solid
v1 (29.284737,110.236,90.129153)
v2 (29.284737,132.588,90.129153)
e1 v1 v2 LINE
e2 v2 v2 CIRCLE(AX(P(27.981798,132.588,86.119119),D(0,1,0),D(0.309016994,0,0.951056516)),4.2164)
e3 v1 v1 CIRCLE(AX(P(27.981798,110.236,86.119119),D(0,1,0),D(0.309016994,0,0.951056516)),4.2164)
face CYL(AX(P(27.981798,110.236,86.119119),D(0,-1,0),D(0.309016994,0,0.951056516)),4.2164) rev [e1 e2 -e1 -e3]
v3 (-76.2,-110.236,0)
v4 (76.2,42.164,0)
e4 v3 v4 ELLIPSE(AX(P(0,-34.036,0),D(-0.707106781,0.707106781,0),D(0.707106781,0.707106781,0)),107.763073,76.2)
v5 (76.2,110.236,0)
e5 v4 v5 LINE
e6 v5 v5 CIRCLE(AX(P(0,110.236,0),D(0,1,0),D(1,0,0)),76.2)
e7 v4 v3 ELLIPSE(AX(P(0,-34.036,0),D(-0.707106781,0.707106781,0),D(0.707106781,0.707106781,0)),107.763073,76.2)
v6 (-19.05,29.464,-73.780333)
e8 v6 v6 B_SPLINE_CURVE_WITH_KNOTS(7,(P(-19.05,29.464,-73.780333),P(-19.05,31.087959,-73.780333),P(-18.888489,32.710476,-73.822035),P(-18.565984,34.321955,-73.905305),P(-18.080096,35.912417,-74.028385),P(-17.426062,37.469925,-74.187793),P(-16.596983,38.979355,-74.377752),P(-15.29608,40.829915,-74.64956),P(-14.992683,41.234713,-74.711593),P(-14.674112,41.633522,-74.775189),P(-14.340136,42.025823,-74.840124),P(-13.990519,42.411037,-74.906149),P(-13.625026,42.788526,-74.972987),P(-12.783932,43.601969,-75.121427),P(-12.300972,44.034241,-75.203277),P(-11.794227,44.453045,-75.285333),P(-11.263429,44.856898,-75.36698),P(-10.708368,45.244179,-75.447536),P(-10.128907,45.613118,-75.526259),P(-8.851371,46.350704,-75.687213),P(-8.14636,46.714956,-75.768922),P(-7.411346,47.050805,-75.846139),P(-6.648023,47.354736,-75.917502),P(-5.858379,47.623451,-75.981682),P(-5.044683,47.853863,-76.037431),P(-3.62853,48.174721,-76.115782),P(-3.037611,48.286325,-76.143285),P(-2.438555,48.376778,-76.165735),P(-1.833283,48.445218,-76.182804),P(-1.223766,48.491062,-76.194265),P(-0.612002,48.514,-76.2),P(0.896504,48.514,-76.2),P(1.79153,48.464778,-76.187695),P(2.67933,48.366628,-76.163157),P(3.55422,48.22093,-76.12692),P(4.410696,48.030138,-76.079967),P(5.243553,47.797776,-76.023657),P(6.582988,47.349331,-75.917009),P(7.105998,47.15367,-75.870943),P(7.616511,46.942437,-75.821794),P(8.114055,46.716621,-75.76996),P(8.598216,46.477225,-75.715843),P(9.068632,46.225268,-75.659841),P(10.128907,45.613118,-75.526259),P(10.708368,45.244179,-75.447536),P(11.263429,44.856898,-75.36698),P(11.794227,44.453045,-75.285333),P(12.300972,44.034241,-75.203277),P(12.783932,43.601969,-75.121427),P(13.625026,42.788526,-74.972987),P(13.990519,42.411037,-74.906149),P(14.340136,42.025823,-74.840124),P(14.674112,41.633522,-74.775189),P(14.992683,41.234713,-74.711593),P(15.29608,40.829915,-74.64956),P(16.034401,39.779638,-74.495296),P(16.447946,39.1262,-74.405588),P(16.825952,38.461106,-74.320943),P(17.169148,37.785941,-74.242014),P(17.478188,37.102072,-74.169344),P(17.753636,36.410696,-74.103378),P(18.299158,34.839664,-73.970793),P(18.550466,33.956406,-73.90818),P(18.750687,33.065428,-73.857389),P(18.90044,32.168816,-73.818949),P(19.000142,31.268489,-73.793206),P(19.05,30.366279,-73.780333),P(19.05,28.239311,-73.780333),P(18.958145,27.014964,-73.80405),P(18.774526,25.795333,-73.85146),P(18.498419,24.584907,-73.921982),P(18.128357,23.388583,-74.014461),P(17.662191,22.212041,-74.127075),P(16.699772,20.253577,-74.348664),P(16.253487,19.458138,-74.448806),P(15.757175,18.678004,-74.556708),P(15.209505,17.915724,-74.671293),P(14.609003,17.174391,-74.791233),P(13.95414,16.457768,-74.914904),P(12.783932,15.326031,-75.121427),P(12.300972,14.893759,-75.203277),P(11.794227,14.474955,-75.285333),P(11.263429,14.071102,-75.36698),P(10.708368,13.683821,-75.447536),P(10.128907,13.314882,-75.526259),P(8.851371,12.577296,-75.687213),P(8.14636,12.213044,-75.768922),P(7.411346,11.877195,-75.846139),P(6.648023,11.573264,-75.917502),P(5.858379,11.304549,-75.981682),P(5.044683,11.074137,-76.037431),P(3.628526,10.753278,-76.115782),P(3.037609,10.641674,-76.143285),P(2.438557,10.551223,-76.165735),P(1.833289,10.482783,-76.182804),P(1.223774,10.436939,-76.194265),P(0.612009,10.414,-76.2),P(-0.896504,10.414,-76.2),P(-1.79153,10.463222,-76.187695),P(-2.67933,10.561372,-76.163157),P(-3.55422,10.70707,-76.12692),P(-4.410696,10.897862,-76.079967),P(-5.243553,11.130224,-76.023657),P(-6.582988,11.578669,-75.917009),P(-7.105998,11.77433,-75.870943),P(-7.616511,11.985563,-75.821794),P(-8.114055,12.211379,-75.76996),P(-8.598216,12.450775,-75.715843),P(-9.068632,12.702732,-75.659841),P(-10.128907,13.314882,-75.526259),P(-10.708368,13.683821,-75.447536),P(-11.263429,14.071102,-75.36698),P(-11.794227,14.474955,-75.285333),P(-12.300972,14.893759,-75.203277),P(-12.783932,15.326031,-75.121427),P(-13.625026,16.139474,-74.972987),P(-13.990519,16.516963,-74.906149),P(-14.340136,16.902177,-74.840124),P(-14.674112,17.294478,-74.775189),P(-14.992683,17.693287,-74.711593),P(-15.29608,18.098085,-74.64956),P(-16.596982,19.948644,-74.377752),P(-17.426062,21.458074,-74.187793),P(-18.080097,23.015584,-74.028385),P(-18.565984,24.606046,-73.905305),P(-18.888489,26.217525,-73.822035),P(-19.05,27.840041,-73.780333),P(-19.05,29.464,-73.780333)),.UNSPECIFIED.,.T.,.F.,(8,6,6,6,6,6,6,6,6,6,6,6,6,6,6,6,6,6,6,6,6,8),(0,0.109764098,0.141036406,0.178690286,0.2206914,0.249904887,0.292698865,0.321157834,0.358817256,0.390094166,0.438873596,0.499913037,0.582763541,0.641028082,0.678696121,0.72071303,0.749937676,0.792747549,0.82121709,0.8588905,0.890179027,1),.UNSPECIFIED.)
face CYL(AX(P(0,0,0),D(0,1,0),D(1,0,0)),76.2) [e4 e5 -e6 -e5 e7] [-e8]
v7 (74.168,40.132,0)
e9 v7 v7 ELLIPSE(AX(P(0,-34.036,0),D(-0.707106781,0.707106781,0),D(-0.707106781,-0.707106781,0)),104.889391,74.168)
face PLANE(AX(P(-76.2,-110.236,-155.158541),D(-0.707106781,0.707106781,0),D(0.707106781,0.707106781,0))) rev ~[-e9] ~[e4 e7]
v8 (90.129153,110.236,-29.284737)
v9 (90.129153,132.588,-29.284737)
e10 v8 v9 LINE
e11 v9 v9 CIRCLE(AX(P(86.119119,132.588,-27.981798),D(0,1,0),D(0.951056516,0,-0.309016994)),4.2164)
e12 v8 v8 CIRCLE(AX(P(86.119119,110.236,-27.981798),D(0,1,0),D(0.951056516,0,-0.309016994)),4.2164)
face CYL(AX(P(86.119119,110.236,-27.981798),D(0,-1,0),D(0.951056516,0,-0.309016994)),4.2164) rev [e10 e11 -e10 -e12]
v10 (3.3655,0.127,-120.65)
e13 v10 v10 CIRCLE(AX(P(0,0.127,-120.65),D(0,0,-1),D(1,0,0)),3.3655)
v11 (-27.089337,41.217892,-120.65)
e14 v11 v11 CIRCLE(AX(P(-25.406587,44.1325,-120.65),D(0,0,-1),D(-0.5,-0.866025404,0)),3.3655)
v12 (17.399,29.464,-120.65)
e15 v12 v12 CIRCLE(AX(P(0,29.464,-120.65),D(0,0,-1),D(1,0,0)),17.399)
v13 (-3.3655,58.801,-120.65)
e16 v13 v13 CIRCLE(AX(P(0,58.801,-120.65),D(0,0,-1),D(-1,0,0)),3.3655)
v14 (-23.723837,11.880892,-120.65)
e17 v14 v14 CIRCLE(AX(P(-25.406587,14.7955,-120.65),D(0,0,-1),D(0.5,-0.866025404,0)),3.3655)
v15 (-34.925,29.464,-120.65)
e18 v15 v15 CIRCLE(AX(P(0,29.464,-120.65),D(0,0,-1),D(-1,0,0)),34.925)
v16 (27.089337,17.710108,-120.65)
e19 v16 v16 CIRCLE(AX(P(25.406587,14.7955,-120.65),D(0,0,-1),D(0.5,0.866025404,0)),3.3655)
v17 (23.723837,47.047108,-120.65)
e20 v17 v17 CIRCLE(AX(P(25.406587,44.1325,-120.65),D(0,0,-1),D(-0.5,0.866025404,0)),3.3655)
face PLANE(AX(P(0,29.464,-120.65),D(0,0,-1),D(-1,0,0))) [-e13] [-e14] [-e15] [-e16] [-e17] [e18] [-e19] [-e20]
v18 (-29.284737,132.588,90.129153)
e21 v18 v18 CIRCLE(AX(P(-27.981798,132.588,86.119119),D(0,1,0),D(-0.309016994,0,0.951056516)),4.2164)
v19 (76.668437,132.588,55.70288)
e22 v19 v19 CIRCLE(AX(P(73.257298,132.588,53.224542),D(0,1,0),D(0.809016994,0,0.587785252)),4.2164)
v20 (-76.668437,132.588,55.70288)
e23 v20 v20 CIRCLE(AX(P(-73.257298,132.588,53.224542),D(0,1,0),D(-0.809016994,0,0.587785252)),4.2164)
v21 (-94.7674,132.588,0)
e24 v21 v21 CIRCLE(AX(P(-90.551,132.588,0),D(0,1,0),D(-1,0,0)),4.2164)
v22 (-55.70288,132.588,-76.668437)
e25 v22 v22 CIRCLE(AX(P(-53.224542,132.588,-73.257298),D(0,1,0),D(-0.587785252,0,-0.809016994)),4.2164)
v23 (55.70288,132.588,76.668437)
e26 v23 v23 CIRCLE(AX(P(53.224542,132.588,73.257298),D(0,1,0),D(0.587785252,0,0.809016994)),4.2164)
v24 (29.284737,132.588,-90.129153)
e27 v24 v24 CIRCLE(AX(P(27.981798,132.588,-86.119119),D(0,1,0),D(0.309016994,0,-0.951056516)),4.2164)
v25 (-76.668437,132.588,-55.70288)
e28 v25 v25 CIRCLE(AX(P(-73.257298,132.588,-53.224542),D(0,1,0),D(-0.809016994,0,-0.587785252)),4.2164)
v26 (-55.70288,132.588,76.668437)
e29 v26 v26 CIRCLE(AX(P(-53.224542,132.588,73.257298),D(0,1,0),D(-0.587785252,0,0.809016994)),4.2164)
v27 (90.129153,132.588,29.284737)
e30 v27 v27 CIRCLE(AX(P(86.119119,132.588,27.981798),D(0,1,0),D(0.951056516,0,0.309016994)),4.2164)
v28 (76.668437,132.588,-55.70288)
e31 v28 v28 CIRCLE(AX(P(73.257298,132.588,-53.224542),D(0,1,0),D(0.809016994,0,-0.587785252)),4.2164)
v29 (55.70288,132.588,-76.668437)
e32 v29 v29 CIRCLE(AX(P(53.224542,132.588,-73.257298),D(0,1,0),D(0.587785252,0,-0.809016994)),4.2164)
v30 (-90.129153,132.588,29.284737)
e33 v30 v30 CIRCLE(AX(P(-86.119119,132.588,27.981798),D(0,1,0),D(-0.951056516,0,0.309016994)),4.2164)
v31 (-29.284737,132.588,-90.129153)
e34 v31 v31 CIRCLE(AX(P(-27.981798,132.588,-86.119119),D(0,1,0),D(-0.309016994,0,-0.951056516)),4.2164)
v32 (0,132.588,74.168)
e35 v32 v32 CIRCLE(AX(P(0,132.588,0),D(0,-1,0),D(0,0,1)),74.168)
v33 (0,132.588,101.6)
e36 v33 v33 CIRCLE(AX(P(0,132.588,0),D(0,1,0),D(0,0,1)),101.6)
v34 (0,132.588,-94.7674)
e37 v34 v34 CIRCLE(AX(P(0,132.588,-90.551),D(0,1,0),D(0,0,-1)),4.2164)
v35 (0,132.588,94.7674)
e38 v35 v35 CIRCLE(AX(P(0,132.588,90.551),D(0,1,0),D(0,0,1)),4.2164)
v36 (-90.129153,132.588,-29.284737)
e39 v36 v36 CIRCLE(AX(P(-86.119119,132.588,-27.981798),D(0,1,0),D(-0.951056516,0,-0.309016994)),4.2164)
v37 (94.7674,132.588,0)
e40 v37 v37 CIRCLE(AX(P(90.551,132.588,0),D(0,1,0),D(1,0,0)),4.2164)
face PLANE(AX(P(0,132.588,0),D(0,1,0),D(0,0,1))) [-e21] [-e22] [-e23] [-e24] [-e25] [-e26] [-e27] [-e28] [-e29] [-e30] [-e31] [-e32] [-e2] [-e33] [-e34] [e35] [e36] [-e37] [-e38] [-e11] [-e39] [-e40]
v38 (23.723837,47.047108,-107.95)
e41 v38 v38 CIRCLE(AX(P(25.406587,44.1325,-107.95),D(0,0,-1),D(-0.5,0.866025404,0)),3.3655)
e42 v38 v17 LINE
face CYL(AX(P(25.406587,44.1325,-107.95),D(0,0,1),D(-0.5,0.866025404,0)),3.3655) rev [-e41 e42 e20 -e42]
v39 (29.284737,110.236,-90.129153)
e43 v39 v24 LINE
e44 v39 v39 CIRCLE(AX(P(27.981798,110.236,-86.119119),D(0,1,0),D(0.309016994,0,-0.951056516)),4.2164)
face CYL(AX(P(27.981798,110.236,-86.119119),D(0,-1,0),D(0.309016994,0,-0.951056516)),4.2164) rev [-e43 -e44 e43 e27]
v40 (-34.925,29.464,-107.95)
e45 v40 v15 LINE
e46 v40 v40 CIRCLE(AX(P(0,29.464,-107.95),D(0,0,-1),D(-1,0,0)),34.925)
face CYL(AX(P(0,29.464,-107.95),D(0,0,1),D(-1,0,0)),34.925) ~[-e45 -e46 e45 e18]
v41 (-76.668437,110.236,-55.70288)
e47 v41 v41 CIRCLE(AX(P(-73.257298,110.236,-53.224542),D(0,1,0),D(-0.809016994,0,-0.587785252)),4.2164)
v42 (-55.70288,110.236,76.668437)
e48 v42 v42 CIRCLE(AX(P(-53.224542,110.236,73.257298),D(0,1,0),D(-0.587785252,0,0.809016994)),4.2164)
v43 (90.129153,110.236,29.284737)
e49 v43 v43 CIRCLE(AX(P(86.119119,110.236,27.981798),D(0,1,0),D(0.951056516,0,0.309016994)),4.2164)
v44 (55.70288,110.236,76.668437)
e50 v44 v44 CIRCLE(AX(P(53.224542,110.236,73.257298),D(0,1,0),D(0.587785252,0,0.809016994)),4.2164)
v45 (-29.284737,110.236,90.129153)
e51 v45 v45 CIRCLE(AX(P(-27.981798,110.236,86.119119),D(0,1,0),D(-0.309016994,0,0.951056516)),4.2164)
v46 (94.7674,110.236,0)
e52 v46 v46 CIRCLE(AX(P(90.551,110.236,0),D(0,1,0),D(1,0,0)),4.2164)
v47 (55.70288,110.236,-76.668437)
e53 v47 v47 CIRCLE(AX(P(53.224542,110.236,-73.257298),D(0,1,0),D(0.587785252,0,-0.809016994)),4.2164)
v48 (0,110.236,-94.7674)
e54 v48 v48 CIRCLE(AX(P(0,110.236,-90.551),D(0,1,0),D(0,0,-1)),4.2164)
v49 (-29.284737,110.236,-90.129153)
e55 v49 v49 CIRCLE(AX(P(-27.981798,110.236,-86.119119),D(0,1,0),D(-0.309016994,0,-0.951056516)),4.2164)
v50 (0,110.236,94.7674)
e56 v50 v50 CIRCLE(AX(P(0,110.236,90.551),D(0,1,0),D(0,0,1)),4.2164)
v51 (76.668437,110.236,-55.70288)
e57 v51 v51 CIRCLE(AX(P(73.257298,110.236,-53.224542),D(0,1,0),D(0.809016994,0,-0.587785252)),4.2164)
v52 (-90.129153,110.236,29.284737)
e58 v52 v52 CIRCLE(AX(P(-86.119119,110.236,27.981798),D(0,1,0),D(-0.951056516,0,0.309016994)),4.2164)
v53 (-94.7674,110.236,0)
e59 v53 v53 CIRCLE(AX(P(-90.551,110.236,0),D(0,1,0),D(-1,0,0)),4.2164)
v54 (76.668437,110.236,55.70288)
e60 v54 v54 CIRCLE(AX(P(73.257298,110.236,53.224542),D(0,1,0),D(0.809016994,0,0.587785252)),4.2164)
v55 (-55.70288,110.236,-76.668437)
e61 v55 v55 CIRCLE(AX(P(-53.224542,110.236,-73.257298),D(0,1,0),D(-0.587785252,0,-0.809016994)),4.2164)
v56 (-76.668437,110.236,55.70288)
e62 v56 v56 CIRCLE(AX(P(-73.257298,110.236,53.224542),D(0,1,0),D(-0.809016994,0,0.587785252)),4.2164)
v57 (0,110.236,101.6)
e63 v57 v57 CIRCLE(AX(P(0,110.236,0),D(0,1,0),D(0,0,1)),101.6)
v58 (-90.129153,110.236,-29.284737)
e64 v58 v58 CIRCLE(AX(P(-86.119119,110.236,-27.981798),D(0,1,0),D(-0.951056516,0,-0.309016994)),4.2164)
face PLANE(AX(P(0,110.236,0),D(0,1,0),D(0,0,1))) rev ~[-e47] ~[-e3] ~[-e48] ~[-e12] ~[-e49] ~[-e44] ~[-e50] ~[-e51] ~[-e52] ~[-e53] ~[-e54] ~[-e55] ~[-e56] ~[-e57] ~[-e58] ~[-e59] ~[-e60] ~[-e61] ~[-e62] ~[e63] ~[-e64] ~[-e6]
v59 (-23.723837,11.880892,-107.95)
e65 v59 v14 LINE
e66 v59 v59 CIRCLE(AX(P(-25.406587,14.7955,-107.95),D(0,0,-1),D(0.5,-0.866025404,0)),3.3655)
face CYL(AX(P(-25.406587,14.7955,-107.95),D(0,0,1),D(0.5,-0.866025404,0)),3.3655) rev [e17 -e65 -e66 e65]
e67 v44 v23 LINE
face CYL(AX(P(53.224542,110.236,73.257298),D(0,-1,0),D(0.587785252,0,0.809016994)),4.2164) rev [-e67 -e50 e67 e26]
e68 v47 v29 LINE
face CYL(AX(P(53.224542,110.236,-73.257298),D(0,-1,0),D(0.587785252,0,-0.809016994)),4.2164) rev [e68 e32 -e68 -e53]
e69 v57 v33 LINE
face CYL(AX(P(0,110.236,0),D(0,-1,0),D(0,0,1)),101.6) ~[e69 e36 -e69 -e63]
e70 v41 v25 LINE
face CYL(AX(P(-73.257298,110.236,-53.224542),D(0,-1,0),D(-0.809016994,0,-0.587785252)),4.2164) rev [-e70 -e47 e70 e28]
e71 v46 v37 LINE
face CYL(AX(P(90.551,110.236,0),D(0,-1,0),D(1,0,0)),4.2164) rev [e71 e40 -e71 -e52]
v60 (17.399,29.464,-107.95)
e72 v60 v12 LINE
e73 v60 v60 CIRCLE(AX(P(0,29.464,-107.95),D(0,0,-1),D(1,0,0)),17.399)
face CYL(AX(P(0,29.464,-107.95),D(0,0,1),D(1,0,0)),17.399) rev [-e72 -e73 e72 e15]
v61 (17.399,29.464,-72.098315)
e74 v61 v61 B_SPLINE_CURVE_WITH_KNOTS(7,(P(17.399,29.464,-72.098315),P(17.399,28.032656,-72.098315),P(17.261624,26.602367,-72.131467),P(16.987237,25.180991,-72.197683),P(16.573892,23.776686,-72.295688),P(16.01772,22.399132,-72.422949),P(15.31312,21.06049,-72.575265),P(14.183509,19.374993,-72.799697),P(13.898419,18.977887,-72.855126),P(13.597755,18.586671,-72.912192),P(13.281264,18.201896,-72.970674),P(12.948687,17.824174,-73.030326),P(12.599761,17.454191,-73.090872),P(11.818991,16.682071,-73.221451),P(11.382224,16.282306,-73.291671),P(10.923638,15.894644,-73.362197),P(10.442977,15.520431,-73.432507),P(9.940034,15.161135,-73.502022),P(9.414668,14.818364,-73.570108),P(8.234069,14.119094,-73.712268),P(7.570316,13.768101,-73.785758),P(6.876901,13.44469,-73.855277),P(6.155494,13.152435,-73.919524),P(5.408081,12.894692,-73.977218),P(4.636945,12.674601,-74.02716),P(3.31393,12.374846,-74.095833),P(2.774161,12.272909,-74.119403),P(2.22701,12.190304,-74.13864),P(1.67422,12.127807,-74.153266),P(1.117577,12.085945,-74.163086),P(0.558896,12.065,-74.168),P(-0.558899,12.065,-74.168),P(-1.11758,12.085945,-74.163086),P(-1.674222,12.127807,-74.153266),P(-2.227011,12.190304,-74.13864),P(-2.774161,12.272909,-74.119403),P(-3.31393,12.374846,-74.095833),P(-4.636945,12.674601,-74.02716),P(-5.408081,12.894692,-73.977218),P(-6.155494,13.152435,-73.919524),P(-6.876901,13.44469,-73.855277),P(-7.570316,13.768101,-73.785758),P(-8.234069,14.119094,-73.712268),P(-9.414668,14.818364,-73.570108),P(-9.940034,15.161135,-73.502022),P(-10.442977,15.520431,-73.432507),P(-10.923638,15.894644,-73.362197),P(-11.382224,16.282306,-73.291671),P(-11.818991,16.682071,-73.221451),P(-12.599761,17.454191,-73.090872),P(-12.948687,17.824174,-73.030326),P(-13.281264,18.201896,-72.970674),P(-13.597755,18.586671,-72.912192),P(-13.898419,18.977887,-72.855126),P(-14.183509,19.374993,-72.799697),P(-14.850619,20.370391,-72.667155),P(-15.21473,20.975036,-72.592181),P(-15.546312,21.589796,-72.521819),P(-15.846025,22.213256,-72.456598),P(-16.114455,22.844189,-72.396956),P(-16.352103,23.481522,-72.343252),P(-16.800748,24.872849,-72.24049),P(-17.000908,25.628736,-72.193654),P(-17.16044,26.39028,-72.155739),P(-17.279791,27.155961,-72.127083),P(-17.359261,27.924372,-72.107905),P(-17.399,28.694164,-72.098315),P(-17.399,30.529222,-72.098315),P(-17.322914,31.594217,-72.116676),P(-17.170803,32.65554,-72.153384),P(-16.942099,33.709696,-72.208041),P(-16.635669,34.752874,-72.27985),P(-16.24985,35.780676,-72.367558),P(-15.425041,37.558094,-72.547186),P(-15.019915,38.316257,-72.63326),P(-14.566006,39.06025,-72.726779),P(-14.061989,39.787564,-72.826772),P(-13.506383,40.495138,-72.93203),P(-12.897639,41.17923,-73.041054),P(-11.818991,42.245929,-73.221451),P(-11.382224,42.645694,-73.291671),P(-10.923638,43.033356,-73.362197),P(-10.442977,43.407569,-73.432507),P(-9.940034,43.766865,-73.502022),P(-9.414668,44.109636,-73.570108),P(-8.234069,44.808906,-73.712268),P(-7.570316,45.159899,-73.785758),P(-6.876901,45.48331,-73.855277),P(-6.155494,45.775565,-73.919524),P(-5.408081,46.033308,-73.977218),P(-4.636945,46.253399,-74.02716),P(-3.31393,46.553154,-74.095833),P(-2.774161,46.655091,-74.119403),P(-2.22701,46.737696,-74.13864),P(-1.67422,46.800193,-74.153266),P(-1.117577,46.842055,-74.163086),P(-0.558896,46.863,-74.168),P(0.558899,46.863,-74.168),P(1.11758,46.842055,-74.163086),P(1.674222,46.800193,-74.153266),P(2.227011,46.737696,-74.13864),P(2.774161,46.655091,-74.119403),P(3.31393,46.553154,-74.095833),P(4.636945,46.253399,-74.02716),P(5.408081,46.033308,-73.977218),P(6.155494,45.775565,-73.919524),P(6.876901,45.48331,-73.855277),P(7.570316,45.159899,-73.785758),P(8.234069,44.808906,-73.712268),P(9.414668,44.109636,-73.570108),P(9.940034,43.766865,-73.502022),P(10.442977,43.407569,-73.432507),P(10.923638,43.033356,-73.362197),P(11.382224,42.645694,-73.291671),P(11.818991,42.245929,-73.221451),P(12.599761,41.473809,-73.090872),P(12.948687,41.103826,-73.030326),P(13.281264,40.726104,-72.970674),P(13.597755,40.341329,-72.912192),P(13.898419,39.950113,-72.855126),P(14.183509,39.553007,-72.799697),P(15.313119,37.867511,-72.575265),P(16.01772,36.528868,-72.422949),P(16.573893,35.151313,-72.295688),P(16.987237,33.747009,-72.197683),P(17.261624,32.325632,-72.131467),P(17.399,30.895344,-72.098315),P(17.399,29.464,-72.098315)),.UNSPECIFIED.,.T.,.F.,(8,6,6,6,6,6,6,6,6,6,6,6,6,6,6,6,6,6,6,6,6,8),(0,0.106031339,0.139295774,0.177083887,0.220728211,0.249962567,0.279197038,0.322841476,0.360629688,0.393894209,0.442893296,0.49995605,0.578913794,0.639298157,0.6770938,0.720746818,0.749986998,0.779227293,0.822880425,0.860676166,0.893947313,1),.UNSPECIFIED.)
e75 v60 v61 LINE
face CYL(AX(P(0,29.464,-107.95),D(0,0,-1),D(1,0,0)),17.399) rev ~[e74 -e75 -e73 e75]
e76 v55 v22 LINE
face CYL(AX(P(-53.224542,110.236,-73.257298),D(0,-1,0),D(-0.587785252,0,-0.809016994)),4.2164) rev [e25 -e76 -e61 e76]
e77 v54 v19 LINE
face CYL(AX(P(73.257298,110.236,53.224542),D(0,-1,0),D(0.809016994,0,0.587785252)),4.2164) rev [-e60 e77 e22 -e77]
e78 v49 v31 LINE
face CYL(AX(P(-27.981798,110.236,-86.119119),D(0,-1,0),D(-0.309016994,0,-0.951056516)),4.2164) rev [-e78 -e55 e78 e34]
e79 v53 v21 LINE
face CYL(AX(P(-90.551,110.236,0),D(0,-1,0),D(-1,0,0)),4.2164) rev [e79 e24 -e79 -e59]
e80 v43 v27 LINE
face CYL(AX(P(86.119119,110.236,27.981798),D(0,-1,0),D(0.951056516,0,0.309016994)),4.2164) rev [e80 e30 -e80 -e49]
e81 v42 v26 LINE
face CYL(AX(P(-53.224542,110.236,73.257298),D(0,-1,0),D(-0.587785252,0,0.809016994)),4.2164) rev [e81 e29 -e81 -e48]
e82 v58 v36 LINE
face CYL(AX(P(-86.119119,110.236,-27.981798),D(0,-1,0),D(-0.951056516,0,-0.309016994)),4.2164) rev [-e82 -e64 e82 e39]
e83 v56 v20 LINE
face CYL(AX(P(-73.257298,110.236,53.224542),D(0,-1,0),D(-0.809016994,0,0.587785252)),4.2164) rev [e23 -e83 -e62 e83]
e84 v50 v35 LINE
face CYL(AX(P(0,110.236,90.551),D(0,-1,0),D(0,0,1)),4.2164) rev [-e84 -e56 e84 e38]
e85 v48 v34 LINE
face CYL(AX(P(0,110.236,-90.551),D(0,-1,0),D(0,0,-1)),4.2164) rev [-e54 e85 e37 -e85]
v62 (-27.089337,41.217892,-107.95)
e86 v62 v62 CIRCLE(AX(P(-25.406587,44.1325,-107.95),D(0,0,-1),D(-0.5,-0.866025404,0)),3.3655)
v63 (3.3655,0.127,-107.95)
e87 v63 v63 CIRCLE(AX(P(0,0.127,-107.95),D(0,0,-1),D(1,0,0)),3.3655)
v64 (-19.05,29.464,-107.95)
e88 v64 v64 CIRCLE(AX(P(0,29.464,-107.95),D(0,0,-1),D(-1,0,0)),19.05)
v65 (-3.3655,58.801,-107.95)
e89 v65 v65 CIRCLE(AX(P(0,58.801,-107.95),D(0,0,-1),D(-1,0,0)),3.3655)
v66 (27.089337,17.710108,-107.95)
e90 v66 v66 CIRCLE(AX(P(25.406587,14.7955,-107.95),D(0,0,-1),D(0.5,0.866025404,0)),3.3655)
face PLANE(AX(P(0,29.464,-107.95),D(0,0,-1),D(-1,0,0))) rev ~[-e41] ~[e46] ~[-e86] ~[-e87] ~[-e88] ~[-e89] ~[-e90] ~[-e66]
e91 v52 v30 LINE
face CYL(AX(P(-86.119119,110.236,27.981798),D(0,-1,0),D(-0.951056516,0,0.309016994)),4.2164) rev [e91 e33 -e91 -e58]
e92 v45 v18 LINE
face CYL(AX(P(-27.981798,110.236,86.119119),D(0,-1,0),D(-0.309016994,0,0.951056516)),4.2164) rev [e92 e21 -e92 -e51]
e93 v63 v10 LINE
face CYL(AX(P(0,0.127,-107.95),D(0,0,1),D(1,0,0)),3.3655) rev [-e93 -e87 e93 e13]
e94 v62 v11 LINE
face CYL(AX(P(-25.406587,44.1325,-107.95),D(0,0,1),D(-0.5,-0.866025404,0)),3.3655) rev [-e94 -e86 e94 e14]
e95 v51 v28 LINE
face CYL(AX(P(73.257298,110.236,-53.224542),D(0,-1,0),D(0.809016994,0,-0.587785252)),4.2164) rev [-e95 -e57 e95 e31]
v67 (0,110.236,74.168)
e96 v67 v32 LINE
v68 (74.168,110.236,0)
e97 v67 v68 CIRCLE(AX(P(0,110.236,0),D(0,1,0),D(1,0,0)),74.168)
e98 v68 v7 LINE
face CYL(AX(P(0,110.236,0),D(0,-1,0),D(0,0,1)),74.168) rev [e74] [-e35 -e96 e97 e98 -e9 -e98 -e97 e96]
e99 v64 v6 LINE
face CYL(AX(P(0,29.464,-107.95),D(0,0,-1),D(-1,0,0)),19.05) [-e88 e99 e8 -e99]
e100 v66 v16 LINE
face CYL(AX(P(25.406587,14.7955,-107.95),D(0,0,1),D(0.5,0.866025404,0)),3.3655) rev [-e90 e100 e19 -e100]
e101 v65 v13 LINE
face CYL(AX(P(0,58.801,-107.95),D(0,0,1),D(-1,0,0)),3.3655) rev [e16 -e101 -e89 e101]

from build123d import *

# Parameters (mm, degrees)
SKETCH1_R                      = 76.2
SKETCH1_R_2                    = 74.168
EXTRUDE_THIN1_DEPTH            = 110.236
CUT_EXTRUDE1_DEPTH             = 155.158540782
CUT_EXTRUDE1_DEPTH_BACK        = 155.158540782
SKETCH12_R                     = 101.6
EXTRUDE1_DEPTH                 = 22.352
SKETCH14_R                     = 74.168
CUT_EXTRUDE2_DEPTH             = 264.159690652
SKETCH15_R                     = 4.2164
CUT_EXTRUDE4_DEPTH             = 22.352
CIRPATTERN1_COUNT              = 20
EXTRUDE4_REACH                 = 273.569
EXTRUDE4_END_RADIUS            = 76.2
SKETCH24_R                     = 19.05
SKETCH25_R                     = 34.925
EXTRUDE5_DEPTH                 = 12.7
CUT_EXTRUDE7_REACH             = 273.569
CUT_EXTRUDE7_END_RADIUS        = 74.168
SKETCH26_R                     = 17.399
CUT_EXTRUDE7_DIRECTION_2_DEPTH = 12.7
SKETCH27_R                     = 3.3655
CUT_EXTRUDE9_DEPTH             = 12.7
CIRPATTERN3_COUNT              = 6


with BuildPart() as part:
    # Sketch1 → Extrude-Thin1 (new, symmetric)
    with BuildSketch(Plane(origin=(0, 0, 0), x_dir=(1, 0, 0), z_dir=(0, 1, 0))):
        Circle(SKETCH1_R)
        Circle(SKETCH1_R_2, mode=Mode.SUBTRACT)
    extrude(amount=EXTRUDE_THIN1_DEPTH, both=True)

    # Sketch2 → Cut-Extrude1 (cut, two sides: drawn at the far end of the back side and taken through both)
    with BuildSketch(Plane.XY.offset(-CUT_EXTRUDE1_DEPTH_BACK)):
        Polygon((-76.2, -110.236), (76.2, 42.164), (76.2, -110.236), align=None)
    extrude(amount=CUT_EXTRUDE1_DEPTH + CUT_EXTRUDE1_DEPTH_BACK, mode=Mode.SUBTRACT)

    # Sketch12 → Extrude1 (add)
    with BuildSketch(Plane(origin=(0, 110.236, 0), x_dir=(-1, 0, 0), z_dir=(0, 1, 0))):
        with Locations(Location((0, 0, 0), (0, 0, 90))):
            Circle(SKETCH12_R)
    extrude(amount=EXTRUDE1_DEPTH)

    # Sketch14 → Cut-Extrude2 (cut, through all)
    with BuildSketch(Plane(origin=(0, 110.236, 0), x_dir=(-1, 0, 0), z_dir=(0, 1, 0))):
        with Locations(Location((0, 0, 0), (0, 0, 90))):
            Circle(SKETCH14_R)
    extrude(amount=CUT_EXTRUDE2_DEPTH, mode=Mode.SUBTRACT)

    # Sketch15 → Cut-Extrude4 (cut)
    with BuildSketch(Plane(origin=(0, 110.236, 0), x_dir=(-1, 0, 0), z_dir=(0, 1, 0))):
        with Locations(Location((0, 90.551, 0), (0, 0, 90))):
            Circle(SKETCH15_R)
    cut_extrude4 = extrude(amount=CUT_EXTRUDE4_DEPTH, mode=Mode.SUBTRACT)

    # CirPattern1: Cut-Extrude4 ×20 about axis
    cirpattern1_axis = Axis((0, 0, 0), (0, 1, 0))
    for i in range(1, CIRPATTERN1_COUNT):
        add(cut_extrude4.rotate(cirpattern1_axis, i * 360 / CIRPATTERN1_COUNT), mode=Mode.SUBTRACT)

    # Extrude4: up to this cylinder (the profile starts outside it)
    extrude4_end = Plane(origin=(0, 29.464, 0), z_dir=(0, 1, 0)) * Cylinder(EXTRUDE4_END_RADIUS, 700.538, mode=Mode.PRIVATE)
    # Sketch24 → Extrude4 (add, up to the surface)
    with BuildSketch(Plane(origin=(0, 29.464, -107.95), x_dir=(-1, 0, 0), z_dir=(0, 0, -1)), mode=Mode.PRIVATE) as extrude4_sk1:
        Circle(SKETCH24_R)
    extrude4_tool1 = extrude(extrude4_sk1.sketch, amount=-EXTRUDE4_REACH, mode=Mode.PRIVATE) - extrude4_end
    add(extrude4_tool1.solids().sort_by_distance((0, 29.464, -107.95))[0])

    # Sketch25 → Extrude5 (add)
    with BuildSketch(Plane(origin=(0, 29.464, -107.95), x_dir=(-1, 0, 0), z_dir=(0, 0, -1))):
        Circle(SKETCH25_R)
    extrude(amount=EXTRUDE5_DEPTH)

    # Cut-Extrude7: up to this cylinder (the profile starts outside it)
    cut_extrude7_end = Plane(origin=(0, 29.464, 0), z_dir=(0, 1, 0)) * Cylinder(CUT_EXTRUDE7_END_RADIUS, 696.474, mode=Mode.PRIVATE)
    # Sketch26 → Cut-Extrude7 (cut, up to the surface)
    with BuildSketch(Plane(origin=(0, 29.464, -107.95), x_dir=(-1, 0, 0), z_dir=(0, 0, -1)), mode=Mode.PRIVATE) as cut_extrude7_sk1:
        with Locations(Location((0, 0, 0), (0, 0, 180))):
            Circle(SKETCH26_R)
    cut_extrude7_tool1 = extrude(cut_extrude7_sk1.sketch, amount=-CUT_EXTRUDE7_REACH, mode=Mode.PRIVATE) - cut_extrude7_end
    add(cut_extrude7_tool1.solids().sort_by_distance((0, 29.464, -107.95))[0], mode=Mode.SUBTRACT)

    # Sketch26 → Cut-Extrude7 direction 2 (cut)
    with BuildSketch(Plane(origin=(0, 29.464, -107.95), x_dir=(-1, 0, 0), z_dir=(0, 0, -1))):
        with Locations(Location((0, 0, 0), (0, 0, 180))):
            Circle(SKETCH26_R)
    extrude(amount=CUT_EXTRUDE7_DIRECTION_2_DEPTH, mode=Mode.SUBTRACT)

    # Sketch27 → Cut-Extrude9 (cut)
    with BuildSketch(Plane(origin=(0, 29.464, -107.95), x_dir=(-1, 0, 0), z_dir=(0, 0, -1))):
        with Locations((0, 29.337)):
            Circle(SKETCH27_R)
    cut_extrude9 = extrude(amount=CUT_EXTRUDE9_DEPTH, mode=Mode.SUBTRACT)

    # CirPattern3: Cut-Extrude9 ×6 about axis
    cirpattern3_axis = Axis((0, 29.464, 0), (0, 0, 1))
    for i in range(1, CIRPATTERN3_COUNT):
        add(cut_extrude9.rotate(cirpattern3_axis, i * 360 / CIRPATTERN3_COUNT), mode=Mode.SUBTRACT)


solid = part.part
